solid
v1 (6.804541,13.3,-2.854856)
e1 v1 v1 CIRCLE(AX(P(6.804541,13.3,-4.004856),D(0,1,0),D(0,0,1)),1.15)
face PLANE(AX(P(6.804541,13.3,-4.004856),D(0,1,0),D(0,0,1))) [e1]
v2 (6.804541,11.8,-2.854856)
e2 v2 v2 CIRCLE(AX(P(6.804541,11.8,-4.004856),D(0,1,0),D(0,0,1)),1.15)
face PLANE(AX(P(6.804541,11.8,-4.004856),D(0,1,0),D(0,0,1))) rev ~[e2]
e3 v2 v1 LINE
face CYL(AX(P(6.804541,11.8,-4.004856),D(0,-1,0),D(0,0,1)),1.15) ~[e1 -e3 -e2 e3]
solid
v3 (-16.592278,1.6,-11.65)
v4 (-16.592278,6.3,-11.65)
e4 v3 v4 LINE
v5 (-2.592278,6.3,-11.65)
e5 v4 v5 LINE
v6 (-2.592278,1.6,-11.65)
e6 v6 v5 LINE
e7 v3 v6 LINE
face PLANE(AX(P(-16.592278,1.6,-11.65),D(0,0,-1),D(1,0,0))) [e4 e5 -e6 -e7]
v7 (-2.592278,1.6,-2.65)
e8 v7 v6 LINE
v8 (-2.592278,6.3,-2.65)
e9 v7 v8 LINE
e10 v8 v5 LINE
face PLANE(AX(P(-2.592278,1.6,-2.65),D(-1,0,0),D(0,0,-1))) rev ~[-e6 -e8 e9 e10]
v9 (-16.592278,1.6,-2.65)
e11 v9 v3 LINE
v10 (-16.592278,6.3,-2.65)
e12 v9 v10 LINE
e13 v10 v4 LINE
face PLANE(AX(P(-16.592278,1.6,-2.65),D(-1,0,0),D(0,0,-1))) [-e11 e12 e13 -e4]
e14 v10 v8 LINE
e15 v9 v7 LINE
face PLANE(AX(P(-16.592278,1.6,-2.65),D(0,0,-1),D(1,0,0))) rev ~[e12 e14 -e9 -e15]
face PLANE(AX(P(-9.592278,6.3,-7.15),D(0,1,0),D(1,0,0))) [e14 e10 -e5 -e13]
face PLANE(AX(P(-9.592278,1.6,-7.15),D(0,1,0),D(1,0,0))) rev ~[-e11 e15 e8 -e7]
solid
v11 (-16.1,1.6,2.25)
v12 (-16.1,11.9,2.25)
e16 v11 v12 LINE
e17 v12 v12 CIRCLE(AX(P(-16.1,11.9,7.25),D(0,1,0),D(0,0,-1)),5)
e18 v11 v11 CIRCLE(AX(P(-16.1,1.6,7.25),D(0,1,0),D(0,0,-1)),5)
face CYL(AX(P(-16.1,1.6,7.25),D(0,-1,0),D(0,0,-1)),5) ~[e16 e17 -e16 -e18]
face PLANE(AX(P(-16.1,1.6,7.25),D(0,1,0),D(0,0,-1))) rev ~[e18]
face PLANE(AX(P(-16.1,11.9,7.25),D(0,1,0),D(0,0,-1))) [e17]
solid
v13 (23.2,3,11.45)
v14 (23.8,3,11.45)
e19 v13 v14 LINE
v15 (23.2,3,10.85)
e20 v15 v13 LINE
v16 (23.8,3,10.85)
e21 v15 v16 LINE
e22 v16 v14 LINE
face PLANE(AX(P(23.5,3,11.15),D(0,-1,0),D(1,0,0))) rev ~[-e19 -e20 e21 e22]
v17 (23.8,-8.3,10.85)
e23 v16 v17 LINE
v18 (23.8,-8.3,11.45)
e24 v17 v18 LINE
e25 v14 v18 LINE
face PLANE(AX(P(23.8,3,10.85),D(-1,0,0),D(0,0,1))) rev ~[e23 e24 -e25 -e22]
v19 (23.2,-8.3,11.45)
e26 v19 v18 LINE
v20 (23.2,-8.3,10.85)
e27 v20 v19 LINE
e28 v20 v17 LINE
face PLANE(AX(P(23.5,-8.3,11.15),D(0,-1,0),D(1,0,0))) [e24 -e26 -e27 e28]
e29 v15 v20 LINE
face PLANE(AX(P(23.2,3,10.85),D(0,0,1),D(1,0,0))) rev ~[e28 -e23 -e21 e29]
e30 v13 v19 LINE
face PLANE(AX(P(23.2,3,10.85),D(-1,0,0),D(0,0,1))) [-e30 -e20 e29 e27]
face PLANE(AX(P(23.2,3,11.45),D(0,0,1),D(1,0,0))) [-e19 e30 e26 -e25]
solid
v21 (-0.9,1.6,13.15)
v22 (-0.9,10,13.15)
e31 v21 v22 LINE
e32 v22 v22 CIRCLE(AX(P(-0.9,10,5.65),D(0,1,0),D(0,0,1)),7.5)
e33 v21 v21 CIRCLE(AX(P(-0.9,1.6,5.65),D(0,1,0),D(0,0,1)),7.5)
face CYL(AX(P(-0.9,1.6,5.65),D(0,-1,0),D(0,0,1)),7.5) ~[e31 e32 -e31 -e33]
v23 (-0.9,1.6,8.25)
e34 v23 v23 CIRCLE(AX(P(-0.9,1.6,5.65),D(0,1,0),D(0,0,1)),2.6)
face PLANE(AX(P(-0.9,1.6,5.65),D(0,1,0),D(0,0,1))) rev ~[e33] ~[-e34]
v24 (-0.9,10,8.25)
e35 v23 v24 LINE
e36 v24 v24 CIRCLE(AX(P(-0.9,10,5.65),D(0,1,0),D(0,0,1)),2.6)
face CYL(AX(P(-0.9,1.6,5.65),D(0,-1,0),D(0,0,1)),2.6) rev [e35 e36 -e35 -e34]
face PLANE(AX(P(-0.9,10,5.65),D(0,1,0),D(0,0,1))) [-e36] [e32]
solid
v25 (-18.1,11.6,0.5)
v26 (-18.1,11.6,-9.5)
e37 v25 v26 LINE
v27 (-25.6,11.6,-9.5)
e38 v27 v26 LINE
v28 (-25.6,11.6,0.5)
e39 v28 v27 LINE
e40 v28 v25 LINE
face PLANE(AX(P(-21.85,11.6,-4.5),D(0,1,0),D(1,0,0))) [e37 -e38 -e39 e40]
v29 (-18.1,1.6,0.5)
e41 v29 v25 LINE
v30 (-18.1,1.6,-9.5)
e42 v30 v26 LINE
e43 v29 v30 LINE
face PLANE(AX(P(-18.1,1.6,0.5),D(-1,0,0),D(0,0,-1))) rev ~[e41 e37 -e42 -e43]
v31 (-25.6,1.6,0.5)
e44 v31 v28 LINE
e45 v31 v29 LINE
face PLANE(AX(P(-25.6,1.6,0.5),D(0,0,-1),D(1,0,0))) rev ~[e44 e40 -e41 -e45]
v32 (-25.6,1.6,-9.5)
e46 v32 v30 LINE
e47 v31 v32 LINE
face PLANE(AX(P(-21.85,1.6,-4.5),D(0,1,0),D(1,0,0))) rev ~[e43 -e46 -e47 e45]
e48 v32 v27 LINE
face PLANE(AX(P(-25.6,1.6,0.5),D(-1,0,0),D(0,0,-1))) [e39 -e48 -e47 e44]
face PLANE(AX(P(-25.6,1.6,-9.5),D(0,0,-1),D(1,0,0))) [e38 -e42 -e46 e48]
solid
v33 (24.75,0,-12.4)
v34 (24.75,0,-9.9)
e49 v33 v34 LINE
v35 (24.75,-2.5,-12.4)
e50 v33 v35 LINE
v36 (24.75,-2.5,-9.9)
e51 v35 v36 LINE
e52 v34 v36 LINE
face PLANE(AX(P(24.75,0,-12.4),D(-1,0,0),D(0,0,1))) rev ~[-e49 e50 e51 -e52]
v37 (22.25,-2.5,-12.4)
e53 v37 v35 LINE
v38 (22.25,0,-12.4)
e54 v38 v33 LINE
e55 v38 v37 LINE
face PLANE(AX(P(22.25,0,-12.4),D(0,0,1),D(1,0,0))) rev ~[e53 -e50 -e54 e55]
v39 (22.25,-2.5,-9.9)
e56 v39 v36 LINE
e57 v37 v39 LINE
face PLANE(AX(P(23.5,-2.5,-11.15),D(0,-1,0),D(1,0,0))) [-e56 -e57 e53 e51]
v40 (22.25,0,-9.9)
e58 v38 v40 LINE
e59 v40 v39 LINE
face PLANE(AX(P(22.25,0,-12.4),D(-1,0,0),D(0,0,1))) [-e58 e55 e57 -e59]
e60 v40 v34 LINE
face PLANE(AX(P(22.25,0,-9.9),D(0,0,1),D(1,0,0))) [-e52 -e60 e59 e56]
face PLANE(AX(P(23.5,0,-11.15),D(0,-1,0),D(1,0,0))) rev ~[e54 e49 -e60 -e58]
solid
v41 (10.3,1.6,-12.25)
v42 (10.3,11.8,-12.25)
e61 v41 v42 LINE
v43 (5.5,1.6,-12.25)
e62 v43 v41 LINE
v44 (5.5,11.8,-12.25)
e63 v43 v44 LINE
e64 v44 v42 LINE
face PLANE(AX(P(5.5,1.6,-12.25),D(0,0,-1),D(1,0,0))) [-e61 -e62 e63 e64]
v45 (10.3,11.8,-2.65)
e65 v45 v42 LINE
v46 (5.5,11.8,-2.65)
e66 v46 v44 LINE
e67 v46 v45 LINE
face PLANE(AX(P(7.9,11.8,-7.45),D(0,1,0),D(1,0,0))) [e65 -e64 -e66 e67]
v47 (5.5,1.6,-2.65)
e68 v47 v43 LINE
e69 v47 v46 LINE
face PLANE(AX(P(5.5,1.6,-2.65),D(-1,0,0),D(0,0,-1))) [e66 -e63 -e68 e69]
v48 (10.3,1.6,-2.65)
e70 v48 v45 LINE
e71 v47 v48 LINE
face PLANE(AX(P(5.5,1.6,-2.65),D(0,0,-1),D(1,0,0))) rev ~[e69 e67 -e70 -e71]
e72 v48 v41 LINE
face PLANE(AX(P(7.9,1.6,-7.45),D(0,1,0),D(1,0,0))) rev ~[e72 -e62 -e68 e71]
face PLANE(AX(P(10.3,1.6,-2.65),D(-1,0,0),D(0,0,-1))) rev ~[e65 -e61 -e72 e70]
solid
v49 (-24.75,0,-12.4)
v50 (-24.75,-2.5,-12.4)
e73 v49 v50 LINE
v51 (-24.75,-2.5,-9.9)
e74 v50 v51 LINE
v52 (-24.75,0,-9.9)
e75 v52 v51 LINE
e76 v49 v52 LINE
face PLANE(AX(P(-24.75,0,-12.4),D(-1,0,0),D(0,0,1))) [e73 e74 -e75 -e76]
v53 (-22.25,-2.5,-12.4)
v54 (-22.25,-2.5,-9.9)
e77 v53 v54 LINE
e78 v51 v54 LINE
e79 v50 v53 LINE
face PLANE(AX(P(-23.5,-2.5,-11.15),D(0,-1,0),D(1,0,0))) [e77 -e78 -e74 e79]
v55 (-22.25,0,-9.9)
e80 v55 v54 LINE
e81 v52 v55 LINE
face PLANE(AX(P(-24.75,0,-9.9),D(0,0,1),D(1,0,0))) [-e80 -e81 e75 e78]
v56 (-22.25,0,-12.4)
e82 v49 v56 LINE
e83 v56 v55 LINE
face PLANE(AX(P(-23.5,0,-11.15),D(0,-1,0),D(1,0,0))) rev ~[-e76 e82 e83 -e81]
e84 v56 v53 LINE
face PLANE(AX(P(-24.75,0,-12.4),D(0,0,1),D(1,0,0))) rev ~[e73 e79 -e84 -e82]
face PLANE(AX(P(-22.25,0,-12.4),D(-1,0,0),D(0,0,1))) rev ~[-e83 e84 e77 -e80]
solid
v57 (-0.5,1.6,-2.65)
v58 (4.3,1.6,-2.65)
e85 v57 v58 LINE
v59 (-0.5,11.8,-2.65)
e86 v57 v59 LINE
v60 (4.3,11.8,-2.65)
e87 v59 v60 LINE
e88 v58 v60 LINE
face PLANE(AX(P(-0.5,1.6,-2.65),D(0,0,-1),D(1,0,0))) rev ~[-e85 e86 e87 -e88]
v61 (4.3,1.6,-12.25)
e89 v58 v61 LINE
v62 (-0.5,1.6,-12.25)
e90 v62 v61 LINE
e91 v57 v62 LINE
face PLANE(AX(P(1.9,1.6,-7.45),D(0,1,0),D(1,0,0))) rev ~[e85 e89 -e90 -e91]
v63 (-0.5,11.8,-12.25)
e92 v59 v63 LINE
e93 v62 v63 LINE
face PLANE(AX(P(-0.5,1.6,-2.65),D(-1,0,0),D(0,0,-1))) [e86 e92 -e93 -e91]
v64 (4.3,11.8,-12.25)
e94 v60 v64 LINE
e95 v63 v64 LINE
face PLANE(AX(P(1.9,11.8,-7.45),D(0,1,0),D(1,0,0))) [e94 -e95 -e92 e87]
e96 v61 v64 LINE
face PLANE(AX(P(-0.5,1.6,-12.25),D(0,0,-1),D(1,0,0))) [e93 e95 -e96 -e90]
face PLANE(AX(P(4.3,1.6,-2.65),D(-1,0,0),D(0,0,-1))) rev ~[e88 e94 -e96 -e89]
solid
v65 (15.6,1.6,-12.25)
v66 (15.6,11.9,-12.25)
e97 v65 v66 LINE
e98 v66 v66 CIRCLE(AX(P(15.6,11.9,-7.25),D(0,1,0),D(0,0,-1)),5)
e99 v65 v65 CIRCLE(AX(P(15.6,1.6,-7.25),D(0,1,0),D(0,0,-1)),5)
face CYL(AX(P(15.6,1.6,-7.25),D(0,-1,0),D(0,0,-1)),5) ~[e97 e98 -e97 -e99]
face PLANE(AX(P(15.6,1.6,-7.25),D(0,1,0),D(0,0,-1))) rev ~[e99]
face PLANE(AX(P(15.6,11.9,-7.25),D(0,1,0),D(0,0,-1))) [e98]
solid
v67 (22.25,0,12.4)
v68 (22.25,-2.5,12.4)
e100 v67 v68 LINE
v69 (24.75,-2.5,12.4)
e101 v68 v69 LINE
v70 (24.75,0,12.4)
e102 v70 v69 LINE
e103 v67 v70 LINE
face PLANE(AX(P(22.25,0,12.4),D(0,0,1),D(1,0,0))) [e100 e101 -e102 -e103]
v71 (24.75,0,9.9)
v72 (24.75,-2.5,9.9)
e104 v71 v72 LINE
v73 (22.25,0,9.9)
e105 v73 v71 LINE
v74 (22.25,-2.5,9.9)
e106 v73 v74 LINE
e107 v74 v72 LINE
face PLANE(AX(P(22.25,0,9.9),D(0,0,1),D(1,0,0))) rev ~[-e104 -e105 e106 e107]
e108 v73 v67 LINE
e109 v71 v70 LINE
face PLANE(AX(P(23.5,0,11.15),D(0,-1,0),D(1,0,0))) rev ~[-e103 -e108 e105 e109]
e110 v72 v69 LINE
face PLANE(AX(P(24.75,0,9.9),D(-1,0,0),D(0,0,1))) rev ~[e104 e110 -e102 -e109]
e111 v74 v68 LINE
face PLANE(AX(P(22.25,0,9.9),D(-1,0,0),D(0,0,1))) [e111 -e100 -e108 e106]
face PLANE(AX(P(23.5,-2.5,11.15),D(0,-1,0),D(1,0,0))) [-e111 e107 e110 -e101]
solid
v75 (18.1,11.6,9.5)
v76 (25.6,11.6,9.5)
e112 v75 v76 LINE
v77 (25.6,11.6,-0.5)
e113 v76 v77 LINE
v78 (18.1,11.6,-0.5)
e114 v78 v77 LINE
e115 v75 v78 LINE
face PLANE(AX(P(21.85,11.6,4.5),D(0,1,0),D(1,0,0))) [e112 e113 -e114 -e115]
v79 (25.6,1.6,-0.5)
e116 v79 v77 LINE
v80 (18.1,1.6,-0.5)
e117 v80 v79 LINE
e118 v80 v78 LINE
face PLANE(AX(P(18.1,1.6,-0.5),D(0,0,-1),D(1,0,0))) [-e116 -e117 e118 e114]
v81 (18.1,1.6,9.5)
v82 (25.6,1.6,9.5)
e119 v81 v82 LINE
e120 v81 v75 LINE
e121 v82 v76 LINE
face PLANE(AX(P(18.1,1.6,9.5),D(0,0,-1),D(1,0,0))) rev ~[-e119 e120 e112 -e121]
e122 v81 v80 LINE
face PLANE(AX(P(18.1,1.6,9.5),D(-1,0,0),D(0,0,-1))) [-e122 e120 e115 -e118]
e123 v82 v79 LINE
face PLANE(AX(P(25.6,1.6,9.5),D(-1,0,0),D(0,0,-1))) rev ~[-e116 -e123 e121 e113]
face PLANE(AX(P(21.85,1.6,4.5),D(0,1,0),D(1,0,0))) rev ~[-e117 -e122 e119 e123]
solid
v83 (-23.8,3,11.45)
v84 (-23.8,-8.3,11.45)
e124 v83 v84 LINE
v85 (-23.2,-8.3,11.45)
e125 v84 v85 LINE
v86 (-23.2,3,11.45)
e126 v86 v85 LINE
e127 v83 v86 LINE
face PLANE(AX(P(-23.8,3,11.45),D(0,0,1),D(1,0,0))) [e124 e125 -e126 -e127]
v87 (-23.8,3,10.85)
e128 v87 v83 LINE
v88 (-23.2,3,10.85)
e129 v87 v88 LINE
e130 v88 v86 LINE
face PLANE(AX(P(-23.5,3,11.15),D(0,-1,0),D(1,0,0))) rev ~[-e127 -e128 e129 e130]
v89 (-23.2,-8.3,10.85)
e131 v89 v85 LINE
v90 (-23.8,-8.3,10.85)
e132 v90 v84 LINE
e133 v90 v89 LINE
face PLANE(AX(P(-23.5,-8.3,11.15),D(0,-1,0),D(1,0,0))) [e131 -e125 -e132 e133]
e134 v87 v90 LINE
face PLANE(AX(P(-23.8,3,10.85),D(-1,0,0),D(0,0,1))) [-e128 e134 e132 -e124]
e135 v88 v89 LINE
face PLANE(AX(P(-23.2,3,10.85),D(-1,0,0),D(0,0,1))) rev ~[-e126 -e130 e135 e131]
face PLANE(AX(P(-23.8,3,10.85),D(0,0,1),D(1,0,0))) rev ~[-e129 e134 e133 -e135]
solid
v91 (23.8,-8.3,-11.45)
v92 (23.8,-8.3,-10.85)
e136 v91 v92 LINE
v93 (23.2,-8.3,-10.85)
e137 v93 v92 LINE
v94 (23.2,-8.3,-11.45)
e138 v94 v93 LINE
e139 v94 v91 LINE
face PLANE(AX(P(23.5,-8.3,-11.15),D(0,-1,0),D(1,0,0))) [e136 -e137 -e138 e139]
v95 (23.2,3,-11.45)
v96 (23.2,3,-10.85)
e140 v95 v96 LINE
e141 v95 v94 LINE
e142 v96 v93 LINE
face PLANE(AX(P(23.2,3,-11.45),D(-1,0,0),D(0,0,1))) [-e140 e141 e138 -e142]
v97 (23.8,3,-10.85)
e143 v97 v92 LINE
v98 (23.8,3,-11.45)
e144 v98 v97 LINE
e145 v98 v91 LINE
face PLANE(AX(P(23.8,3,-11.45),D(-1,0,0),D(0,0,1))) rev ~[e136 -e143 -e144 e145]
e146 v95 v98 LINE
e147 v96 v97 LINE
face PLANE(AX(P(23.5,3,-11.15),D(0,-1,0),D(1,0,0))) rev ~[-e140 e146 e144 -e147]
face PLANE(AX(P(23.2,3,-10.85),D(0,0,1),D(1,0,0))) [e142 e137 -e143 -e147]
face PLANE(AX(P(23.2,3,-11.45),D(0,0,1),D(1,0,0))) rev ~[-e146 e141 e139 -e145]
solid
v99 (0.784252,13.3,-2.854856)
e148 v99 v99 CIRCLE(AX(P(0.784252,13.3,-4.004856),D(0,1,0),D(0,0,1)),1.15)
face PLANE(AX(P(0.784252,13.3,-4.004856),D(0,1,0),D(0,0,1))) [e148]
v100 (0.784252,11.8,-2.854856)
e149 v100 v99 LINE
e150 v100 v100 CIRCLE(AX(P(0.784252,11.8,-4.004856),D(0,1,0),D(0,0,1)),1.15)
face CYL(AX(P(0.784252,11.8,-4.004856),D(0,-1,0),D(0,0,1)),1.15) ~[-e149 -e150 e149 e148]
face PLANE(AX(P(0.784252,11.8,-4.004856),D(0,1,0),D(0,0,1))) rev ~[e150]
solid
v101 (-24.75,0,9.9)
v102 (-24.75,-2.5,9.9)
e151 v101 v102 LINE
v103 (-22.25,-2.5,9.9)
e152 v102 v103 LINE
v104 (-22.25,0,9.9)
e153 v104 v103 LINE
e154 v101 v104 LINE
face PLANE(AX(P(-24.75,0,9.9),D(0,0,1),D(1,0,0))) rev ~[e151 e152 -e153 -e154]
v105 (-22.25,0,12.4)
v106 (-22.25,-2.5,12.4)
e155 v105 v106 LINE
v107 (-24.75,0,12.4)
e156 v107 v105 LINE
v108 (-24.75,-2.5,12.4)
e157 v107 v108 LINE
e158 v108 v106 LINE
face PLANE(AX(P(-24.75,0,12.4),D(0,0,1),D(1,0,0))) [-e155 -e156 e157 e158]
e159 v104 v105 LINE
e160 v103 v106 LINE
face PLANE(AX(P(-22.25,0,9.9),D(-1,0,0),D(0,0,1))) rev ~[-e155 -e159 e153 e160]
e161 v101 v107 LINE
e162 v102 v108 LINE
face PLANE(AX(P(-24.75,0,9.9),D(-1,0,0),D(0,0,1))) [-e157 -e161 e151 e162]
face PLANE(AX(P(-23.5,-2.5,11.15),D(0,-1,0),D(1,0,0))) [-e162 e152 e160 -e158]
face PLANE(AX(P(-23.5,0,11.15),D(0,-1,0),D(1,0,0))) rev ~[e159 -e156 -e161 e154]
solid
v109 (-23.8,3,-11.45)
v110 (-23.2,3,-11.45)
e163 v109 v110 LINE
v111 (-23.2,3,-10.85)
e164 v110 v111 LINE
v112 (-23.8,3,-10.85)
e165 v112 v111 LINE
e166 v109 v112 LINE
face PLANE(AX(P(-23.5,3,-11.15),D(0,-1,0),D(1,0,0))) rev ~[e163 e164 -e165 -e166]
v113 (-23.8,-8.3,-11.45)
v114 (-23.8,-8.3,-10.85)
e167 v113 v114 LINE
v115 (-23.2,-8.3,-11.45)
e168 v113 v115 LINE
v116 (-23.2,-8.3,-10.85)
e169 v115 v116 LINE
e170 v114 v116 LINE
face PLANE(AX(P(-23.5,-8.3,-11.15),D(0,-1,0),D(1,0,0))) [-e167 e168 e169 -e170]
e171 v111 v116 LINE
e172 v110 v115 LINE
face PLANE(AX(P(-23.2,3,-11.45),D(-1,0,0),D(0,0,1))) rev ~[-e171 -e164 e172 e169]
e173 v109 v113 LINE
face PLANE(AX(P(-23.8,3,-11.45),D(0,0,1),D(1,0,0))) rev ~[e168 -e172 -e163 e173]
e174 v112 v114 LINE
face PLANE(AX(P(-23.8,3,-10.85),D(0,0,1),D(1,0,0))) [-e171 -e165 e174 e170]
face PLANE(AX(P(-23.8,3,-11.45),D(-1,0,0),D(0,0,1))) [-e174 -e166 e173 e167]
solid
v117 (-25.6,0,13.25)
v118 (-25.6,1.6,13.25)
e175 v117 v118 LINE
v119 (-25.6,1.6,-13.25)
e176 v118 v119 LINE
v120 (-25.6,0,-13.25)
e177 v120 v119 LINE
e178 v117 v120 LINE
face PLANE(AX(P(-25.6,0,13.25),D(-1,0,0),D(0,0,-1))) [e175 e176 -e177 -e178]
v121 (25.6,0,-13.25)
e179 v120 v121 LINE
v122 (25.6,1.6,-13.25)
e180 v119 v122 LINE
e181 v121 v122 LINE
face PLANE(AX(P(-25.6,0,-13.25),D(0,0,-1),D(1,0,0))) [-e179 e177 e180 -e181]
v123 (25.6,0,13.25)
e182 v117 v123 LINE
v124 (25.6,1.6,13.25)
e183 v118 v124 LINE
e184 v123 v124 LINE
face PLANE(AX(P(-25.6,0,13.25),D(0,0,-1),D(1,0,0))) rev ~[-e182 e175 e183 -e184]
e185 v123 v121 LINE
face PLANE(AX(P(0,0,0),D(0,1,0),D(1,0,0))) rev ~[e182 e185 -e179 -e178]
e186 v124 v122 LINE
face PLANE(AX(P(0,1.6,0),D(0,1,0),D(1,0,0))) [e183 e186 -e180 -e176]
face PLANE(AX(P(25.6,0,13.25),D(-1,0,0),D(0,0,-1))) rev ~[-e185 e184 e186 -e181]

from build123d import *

# Parameters (mm, degrees)
ESQUISSE1_W               = 51.2
ESQUISSE1_H               = 26.5
BOSS_EXTRU_1_DEPTH        = 1.6
ESQUISSE2_W               = 7.5
ESQUISSE2_H               = 10
BOSS_EXTRU_2_DEPTH        = 10
BOSS_EXTRU_2_2_DEPTH      = 10
ESQUISSE3_R               = 5
BOSS_EXTRU_3_DEPTH        = 10.3
BOSS_EXTRU_3_2_DEPTH      = 10.3
ESQUISSE4_W               = 4.8
ESQUISSE4_H               = 9.6
BOSS_EXTRU_4_DEPTH        = 10.2
BOSS_EXTRU_4_2_DEPTH      = 10.2
ESQUISSE5_R               = 1.15
BOSS_EXTRU_5_DEPTH        = 1.5
BOSS_EXTRU_5_2_DEPTH      = 1.5
ESQUISSE6_R               = 7.5
ESQUISSE6_R_2             = 2.6
BOSS_EXTRU_6_DEPTH        = 8.4
ESQUISSE7_W               = 14
ESQUISSE7_H               = 9
BOSS_EXTRU_7_DEPTH        = 4.7
BOSS_EXTRU_8_DEPTH        = 8.3
BOSS_EXTRU_8_DEPTH_BACK   = 3
ESQUISSE8_W               = 0.6
ESQUISSE8_H               = 0.6
BOSS_EXTRU_8_2_DEPTH      = 8.3
BOSS_EXTRU_8_2_DEPTH_BACK = 3
BOSS_EXTRU_8_3_DEPTH      = 8.3
BOSS_EXTRU_8_3_DEPTH_BACK = 3
BOSS_EXTRU_8_4_DEPTH      = 8.3
BOSS_EXTRU_8_4_DEPTH_BACK = 3
ESQUISSE9_W               = 2.5
ESQUISSE9_H               = 2.5
BOSS_EXTRU_9_DEPTH        = 2.5
BOSS_EXTRU_9_2_DEPTH      = 2.5
BOSS_EXTRU_9_3_DEPTH      = 2.5
BOSS_EXTRU_9_4_DEPTH      = 2.5


with BuildPart() as part:
    # Esquisse1 → Boss.-Extru.1 (new body)
    with BuildSketch(Plane(origin=(0, 0, 0), x_dir=(1, 0, 0), z_dir=(0, 1, 0))):
        Rectangle(ESQUISSE1_W, ESQUISSE1_H)
    extrude(amount=BOSS_EXTRU_1_DEPTH)


with BuildPart() as body_2:
    # Esquisse2 → Boss.-Extru.2 (new body)
    with BuildSketch(Plane(origin=(0, 1.6, 0), x_dir=(1, 0, 0), z_dir=(0, 1, 0))):
        with Locations((-21.85, 4.5)):
            Rectangle(ESQUISSE2_W, ESQUISSE2_H)
    extrude(amount=BOSS_EXTRU_2_DEPTH)


with BuildPart() as body_3:
    # Esquisse2 → Boss.-Extru.2 2 (new body)
    with BuildSketch(Plane(origin=(0, 1.6, 0), x_dir=(1, 0, 0), z_dir=(0, 1, 0))):
        with Locations((21.85, -4.5)):
            Rectangle(ESQUISSE2_W, ESQUISSE2_H)
    extrude(amount=BOSS_EXTRU_2_2_DEPTH)


with BuildPart() as body_4:
    # Esquisse3 → Boss.-Extru.3 (new body)
    with BuildSketch(Plane(origin=(0, 1.6, 0), x_dir=(1, 0, 0), z_dir=(0, 1, 0))):
        with Locations(Location((15.6, 7.25, 0), (0, 0, 90))):
            Circle(ESQUISSE3_R)
    extrude(amount=BOSS_EXTRU_3_DEPTH)


with BuildPart() as body_5:
    # Esquisse3 → Boss.-Extru.3 2 (new body)
    with BuildSketch(Plane(origin=(0, 1.6, 0), x_dir=(1, 0, 0), z_dir=(0, 1, 0))):
        with Locations(Location((-16.1, -7.25, 0), (0, 0, 90))):
            Circle(ESQUISSE3_R)
    extrude(amount=BOSS_EXTRU_3_2_DEPTH)


with BuildPart() as body_6:
    # Esquisse4 → Boss.-Extru.4 (new body)
    with BuildSketch(Plane(origin=(0, 1.6, 0), x_dir=(1, 0, 0), z_dir=(0, 1, 0))):
        with Locations((1.9, 7.45)):
            Rectangle(ESQUISSE4_W, ESQUISSE4_H)
    extrude(amount=BOSS_EXTRU_4_DEPTH)


with BuildPart() as body_7:
    # Esquisse4 → Boss.-Extru.4 2 (new body)
    with BuildSketch(Plane(origin=(0, 1.6, 0), x_dir=(1, 0, 0), z_dir=(0, 1, 0))):
        with Locations((7.9, 7.45)):
            Rectangle(ESQUISSE4_W, ESQUISSE4_H)
    extrude(amount=BOSS_EXTRU_4_2_DEPTH)


with BuildPart() as body_8:
    # Esquisse5 → Boss.-Extru.5 (new body)
    with BuildSketch(Plane(origin=(0, 11.8, 0), x_dir=(1, 0, 0), z_dir=(0, 1, 0))):
        with Locations(Location((0.784252414, 4.00485602, 0), (0, 0, 270))):
            Circle(ESQUISSE5_R)
    extrude(amount=BOSS_EXTRU_5_DEPTH)


with BuildPart() as body_9:
    # Esquisse5 → Boss.-Extru.5 2 (new body)
    with BuildSketch(Plane(origin=(0, 11.8, 0), x_dir=(1, 0, 0), z_dir=(0, 1, 0))):
        with Locations(Location((6.804540863, 4.00485602, 0), (0, 0, 270))):
            Circle(ESQUISSE5_R)
    extrude(amount=BOSS_EXTRU_5_2_DEPTH)


with BuildPart() as body_10:
    # Esquisse6 → Boss.-Extru.6 (new body)
    with BuildSketch(Plane(origin=(0, 1.6, 0), x_dir=(1, 0, 0), z_dir=(0, 1, 0))):
        with Locations(Location((-0.9, -5.65, 0), (0, 0, 270))):
            Circle(ESQUISSE6_R)
        with Locations(Location((-0.9, -5.65, 0), (0, 0, 270))):
            Circle(ESQUISSE6_R_2, mode=Mode.SUBTRACT)
    extrude(amount=BOSS_EXTRU_6_DEPTH)


with BuildPart() as body_11:
    # Esquisse7 → Boss.-Extru.7 (new body)
    with BuildSketch(Plane(origin=(0, 1.6, 0), x_dir=(1, 0, 0), z_dir=(0, 1, 0))):
        with Locations((-9.592278393, 7.15)):
            Rectangle(ESQUISSE7_W, ESQUISSE7_H)
    extrude(amount=BOSS_EXTRU_7_DEPTH)


with BuildPart() as body_12:
    # Esquisse8 → Boss.-Extru.8 (new, two sides: drawn at the far end of the back side and taken through both)
    with BuildSketch(Plane.XZ.offset(-BOSS_EXTRU_8_DEPTH_BACK)):
        with Locations((-23.5, 11.15)):
            Rectangle(ESQUISSE8_W, ESQUISSE8_H)
    extrude(amount=BOSS_EXTRU_8_DEPTH + BOSS_EXTRU_8_DEPTH_BACK)


with BuildPart() as body_13:
    # Esquisse8 → Boss.-Extru.8 2 (new, two sides: drawn at the far end of the back side and taken through both)
    with BuildSketch(Plane.XZ.offset(-BOSS_EXTRU_8_2_DEPTH_BACK)):
        with Locations((23.5, 11.15)):
            Rectangle(ESQUISSE8_W, ESQUISSE8_H)
    extrude(amount=BOSS_EXTRU_8_2_DEPTH + BOSS_EXTRU_8_2_DEPTH_BACK)


with BuildPart() as body_14:
    # Esquisse8 → Boss.-Extru.8 3 (new, two sides: drawn at the far end of the back side and taken through both)
    with BuildSketch(Plane.XZ.offset(-BOSS_EXTRU_8_3_DEPTH_BACK)):
        with Locations((23.5, -11.15)):
            Rectangle(ESQUISSE8_W, ESQUISSE8_H)
    extrude(amount=BOSS_EXTRU_8_3_DEPTH + BOSS_EXTRU_8_3_DEPTH_BACK)


with BuildPart() as body_15:
    # Esquisse8 → Boss.-Extru.8 4 (new, two sides: drawn at the far end of the back side and taken through both)
    with BuildSketch(Plane.XZ.offset(-BOSS_EXTRU_8_4_DEPTH_BACK)):
        with Locations((-23.5, -11.15)):
            Rectangle(ESQUISSE8_W, ESQUISSE8_H)
    extrude(amount=BOSS_EXTRU_8_4_DEPTH + BOSS_EXTRU_8_4_DEPTH_BACK)


with BuildPart() as body_16:
    # Esquisse9 → Boss.-Extru.9 (new body)
    with BuildSketch(Plane.XZ):
        with Locations((-23.5, 11.15)):
            Rectangle(ESQUISSE9_W, ESQUISSE9_H)
    extrude(amount=BOSS_EXTRU_9_DEPTH)


with BuildPart() as body_17:
    # Esquisse9 → Boss.-Extru.9 2 (new body)
    with BuildSketch(Plane.XZ):
        with Locations((23.5, 11.15)):
            Rectangle(ESQUISSE9_W, ESQUISSE9_H)
    extrude(amount=BOSS_EXTRU_9_2_DEPTH)


with BuildPart() as body_18:
    # Esquisse9 → Boss.-Extru.9 3 (new body)
    with BuildSketch(Plane.XZ):
        with Locations((23.5, -11.15)):
            Rectangle(ESQUISSE9_W, ESQUISSE9_H)
    extrude(amount=BOSS_EXTRU_9_3_DEPTH)


with BuildPart() as body_19:
    # Esquisse9 → Boss.-Extru.9 4 (new body)
    with BuildSketch(Plane.XZ):
        with Locations((-23.5, -11.15)):
            Rectangle(ESQUISSE9_W, ESQUISSE9_H)
    extrude(amount=BOSS_EXTRU_9_4_DEPTH)


solid = Compound([part.part, body_2.part, body_3.part, body_4.part, body_5.part, body_6.part, body_7.part, body_8.part, body_9.part, body_10.part, body_11.part, body_12.part, body_13.part, body_14.part, body_15.part, body_16.part, body_17.part, body_18.part, body_19.part])
